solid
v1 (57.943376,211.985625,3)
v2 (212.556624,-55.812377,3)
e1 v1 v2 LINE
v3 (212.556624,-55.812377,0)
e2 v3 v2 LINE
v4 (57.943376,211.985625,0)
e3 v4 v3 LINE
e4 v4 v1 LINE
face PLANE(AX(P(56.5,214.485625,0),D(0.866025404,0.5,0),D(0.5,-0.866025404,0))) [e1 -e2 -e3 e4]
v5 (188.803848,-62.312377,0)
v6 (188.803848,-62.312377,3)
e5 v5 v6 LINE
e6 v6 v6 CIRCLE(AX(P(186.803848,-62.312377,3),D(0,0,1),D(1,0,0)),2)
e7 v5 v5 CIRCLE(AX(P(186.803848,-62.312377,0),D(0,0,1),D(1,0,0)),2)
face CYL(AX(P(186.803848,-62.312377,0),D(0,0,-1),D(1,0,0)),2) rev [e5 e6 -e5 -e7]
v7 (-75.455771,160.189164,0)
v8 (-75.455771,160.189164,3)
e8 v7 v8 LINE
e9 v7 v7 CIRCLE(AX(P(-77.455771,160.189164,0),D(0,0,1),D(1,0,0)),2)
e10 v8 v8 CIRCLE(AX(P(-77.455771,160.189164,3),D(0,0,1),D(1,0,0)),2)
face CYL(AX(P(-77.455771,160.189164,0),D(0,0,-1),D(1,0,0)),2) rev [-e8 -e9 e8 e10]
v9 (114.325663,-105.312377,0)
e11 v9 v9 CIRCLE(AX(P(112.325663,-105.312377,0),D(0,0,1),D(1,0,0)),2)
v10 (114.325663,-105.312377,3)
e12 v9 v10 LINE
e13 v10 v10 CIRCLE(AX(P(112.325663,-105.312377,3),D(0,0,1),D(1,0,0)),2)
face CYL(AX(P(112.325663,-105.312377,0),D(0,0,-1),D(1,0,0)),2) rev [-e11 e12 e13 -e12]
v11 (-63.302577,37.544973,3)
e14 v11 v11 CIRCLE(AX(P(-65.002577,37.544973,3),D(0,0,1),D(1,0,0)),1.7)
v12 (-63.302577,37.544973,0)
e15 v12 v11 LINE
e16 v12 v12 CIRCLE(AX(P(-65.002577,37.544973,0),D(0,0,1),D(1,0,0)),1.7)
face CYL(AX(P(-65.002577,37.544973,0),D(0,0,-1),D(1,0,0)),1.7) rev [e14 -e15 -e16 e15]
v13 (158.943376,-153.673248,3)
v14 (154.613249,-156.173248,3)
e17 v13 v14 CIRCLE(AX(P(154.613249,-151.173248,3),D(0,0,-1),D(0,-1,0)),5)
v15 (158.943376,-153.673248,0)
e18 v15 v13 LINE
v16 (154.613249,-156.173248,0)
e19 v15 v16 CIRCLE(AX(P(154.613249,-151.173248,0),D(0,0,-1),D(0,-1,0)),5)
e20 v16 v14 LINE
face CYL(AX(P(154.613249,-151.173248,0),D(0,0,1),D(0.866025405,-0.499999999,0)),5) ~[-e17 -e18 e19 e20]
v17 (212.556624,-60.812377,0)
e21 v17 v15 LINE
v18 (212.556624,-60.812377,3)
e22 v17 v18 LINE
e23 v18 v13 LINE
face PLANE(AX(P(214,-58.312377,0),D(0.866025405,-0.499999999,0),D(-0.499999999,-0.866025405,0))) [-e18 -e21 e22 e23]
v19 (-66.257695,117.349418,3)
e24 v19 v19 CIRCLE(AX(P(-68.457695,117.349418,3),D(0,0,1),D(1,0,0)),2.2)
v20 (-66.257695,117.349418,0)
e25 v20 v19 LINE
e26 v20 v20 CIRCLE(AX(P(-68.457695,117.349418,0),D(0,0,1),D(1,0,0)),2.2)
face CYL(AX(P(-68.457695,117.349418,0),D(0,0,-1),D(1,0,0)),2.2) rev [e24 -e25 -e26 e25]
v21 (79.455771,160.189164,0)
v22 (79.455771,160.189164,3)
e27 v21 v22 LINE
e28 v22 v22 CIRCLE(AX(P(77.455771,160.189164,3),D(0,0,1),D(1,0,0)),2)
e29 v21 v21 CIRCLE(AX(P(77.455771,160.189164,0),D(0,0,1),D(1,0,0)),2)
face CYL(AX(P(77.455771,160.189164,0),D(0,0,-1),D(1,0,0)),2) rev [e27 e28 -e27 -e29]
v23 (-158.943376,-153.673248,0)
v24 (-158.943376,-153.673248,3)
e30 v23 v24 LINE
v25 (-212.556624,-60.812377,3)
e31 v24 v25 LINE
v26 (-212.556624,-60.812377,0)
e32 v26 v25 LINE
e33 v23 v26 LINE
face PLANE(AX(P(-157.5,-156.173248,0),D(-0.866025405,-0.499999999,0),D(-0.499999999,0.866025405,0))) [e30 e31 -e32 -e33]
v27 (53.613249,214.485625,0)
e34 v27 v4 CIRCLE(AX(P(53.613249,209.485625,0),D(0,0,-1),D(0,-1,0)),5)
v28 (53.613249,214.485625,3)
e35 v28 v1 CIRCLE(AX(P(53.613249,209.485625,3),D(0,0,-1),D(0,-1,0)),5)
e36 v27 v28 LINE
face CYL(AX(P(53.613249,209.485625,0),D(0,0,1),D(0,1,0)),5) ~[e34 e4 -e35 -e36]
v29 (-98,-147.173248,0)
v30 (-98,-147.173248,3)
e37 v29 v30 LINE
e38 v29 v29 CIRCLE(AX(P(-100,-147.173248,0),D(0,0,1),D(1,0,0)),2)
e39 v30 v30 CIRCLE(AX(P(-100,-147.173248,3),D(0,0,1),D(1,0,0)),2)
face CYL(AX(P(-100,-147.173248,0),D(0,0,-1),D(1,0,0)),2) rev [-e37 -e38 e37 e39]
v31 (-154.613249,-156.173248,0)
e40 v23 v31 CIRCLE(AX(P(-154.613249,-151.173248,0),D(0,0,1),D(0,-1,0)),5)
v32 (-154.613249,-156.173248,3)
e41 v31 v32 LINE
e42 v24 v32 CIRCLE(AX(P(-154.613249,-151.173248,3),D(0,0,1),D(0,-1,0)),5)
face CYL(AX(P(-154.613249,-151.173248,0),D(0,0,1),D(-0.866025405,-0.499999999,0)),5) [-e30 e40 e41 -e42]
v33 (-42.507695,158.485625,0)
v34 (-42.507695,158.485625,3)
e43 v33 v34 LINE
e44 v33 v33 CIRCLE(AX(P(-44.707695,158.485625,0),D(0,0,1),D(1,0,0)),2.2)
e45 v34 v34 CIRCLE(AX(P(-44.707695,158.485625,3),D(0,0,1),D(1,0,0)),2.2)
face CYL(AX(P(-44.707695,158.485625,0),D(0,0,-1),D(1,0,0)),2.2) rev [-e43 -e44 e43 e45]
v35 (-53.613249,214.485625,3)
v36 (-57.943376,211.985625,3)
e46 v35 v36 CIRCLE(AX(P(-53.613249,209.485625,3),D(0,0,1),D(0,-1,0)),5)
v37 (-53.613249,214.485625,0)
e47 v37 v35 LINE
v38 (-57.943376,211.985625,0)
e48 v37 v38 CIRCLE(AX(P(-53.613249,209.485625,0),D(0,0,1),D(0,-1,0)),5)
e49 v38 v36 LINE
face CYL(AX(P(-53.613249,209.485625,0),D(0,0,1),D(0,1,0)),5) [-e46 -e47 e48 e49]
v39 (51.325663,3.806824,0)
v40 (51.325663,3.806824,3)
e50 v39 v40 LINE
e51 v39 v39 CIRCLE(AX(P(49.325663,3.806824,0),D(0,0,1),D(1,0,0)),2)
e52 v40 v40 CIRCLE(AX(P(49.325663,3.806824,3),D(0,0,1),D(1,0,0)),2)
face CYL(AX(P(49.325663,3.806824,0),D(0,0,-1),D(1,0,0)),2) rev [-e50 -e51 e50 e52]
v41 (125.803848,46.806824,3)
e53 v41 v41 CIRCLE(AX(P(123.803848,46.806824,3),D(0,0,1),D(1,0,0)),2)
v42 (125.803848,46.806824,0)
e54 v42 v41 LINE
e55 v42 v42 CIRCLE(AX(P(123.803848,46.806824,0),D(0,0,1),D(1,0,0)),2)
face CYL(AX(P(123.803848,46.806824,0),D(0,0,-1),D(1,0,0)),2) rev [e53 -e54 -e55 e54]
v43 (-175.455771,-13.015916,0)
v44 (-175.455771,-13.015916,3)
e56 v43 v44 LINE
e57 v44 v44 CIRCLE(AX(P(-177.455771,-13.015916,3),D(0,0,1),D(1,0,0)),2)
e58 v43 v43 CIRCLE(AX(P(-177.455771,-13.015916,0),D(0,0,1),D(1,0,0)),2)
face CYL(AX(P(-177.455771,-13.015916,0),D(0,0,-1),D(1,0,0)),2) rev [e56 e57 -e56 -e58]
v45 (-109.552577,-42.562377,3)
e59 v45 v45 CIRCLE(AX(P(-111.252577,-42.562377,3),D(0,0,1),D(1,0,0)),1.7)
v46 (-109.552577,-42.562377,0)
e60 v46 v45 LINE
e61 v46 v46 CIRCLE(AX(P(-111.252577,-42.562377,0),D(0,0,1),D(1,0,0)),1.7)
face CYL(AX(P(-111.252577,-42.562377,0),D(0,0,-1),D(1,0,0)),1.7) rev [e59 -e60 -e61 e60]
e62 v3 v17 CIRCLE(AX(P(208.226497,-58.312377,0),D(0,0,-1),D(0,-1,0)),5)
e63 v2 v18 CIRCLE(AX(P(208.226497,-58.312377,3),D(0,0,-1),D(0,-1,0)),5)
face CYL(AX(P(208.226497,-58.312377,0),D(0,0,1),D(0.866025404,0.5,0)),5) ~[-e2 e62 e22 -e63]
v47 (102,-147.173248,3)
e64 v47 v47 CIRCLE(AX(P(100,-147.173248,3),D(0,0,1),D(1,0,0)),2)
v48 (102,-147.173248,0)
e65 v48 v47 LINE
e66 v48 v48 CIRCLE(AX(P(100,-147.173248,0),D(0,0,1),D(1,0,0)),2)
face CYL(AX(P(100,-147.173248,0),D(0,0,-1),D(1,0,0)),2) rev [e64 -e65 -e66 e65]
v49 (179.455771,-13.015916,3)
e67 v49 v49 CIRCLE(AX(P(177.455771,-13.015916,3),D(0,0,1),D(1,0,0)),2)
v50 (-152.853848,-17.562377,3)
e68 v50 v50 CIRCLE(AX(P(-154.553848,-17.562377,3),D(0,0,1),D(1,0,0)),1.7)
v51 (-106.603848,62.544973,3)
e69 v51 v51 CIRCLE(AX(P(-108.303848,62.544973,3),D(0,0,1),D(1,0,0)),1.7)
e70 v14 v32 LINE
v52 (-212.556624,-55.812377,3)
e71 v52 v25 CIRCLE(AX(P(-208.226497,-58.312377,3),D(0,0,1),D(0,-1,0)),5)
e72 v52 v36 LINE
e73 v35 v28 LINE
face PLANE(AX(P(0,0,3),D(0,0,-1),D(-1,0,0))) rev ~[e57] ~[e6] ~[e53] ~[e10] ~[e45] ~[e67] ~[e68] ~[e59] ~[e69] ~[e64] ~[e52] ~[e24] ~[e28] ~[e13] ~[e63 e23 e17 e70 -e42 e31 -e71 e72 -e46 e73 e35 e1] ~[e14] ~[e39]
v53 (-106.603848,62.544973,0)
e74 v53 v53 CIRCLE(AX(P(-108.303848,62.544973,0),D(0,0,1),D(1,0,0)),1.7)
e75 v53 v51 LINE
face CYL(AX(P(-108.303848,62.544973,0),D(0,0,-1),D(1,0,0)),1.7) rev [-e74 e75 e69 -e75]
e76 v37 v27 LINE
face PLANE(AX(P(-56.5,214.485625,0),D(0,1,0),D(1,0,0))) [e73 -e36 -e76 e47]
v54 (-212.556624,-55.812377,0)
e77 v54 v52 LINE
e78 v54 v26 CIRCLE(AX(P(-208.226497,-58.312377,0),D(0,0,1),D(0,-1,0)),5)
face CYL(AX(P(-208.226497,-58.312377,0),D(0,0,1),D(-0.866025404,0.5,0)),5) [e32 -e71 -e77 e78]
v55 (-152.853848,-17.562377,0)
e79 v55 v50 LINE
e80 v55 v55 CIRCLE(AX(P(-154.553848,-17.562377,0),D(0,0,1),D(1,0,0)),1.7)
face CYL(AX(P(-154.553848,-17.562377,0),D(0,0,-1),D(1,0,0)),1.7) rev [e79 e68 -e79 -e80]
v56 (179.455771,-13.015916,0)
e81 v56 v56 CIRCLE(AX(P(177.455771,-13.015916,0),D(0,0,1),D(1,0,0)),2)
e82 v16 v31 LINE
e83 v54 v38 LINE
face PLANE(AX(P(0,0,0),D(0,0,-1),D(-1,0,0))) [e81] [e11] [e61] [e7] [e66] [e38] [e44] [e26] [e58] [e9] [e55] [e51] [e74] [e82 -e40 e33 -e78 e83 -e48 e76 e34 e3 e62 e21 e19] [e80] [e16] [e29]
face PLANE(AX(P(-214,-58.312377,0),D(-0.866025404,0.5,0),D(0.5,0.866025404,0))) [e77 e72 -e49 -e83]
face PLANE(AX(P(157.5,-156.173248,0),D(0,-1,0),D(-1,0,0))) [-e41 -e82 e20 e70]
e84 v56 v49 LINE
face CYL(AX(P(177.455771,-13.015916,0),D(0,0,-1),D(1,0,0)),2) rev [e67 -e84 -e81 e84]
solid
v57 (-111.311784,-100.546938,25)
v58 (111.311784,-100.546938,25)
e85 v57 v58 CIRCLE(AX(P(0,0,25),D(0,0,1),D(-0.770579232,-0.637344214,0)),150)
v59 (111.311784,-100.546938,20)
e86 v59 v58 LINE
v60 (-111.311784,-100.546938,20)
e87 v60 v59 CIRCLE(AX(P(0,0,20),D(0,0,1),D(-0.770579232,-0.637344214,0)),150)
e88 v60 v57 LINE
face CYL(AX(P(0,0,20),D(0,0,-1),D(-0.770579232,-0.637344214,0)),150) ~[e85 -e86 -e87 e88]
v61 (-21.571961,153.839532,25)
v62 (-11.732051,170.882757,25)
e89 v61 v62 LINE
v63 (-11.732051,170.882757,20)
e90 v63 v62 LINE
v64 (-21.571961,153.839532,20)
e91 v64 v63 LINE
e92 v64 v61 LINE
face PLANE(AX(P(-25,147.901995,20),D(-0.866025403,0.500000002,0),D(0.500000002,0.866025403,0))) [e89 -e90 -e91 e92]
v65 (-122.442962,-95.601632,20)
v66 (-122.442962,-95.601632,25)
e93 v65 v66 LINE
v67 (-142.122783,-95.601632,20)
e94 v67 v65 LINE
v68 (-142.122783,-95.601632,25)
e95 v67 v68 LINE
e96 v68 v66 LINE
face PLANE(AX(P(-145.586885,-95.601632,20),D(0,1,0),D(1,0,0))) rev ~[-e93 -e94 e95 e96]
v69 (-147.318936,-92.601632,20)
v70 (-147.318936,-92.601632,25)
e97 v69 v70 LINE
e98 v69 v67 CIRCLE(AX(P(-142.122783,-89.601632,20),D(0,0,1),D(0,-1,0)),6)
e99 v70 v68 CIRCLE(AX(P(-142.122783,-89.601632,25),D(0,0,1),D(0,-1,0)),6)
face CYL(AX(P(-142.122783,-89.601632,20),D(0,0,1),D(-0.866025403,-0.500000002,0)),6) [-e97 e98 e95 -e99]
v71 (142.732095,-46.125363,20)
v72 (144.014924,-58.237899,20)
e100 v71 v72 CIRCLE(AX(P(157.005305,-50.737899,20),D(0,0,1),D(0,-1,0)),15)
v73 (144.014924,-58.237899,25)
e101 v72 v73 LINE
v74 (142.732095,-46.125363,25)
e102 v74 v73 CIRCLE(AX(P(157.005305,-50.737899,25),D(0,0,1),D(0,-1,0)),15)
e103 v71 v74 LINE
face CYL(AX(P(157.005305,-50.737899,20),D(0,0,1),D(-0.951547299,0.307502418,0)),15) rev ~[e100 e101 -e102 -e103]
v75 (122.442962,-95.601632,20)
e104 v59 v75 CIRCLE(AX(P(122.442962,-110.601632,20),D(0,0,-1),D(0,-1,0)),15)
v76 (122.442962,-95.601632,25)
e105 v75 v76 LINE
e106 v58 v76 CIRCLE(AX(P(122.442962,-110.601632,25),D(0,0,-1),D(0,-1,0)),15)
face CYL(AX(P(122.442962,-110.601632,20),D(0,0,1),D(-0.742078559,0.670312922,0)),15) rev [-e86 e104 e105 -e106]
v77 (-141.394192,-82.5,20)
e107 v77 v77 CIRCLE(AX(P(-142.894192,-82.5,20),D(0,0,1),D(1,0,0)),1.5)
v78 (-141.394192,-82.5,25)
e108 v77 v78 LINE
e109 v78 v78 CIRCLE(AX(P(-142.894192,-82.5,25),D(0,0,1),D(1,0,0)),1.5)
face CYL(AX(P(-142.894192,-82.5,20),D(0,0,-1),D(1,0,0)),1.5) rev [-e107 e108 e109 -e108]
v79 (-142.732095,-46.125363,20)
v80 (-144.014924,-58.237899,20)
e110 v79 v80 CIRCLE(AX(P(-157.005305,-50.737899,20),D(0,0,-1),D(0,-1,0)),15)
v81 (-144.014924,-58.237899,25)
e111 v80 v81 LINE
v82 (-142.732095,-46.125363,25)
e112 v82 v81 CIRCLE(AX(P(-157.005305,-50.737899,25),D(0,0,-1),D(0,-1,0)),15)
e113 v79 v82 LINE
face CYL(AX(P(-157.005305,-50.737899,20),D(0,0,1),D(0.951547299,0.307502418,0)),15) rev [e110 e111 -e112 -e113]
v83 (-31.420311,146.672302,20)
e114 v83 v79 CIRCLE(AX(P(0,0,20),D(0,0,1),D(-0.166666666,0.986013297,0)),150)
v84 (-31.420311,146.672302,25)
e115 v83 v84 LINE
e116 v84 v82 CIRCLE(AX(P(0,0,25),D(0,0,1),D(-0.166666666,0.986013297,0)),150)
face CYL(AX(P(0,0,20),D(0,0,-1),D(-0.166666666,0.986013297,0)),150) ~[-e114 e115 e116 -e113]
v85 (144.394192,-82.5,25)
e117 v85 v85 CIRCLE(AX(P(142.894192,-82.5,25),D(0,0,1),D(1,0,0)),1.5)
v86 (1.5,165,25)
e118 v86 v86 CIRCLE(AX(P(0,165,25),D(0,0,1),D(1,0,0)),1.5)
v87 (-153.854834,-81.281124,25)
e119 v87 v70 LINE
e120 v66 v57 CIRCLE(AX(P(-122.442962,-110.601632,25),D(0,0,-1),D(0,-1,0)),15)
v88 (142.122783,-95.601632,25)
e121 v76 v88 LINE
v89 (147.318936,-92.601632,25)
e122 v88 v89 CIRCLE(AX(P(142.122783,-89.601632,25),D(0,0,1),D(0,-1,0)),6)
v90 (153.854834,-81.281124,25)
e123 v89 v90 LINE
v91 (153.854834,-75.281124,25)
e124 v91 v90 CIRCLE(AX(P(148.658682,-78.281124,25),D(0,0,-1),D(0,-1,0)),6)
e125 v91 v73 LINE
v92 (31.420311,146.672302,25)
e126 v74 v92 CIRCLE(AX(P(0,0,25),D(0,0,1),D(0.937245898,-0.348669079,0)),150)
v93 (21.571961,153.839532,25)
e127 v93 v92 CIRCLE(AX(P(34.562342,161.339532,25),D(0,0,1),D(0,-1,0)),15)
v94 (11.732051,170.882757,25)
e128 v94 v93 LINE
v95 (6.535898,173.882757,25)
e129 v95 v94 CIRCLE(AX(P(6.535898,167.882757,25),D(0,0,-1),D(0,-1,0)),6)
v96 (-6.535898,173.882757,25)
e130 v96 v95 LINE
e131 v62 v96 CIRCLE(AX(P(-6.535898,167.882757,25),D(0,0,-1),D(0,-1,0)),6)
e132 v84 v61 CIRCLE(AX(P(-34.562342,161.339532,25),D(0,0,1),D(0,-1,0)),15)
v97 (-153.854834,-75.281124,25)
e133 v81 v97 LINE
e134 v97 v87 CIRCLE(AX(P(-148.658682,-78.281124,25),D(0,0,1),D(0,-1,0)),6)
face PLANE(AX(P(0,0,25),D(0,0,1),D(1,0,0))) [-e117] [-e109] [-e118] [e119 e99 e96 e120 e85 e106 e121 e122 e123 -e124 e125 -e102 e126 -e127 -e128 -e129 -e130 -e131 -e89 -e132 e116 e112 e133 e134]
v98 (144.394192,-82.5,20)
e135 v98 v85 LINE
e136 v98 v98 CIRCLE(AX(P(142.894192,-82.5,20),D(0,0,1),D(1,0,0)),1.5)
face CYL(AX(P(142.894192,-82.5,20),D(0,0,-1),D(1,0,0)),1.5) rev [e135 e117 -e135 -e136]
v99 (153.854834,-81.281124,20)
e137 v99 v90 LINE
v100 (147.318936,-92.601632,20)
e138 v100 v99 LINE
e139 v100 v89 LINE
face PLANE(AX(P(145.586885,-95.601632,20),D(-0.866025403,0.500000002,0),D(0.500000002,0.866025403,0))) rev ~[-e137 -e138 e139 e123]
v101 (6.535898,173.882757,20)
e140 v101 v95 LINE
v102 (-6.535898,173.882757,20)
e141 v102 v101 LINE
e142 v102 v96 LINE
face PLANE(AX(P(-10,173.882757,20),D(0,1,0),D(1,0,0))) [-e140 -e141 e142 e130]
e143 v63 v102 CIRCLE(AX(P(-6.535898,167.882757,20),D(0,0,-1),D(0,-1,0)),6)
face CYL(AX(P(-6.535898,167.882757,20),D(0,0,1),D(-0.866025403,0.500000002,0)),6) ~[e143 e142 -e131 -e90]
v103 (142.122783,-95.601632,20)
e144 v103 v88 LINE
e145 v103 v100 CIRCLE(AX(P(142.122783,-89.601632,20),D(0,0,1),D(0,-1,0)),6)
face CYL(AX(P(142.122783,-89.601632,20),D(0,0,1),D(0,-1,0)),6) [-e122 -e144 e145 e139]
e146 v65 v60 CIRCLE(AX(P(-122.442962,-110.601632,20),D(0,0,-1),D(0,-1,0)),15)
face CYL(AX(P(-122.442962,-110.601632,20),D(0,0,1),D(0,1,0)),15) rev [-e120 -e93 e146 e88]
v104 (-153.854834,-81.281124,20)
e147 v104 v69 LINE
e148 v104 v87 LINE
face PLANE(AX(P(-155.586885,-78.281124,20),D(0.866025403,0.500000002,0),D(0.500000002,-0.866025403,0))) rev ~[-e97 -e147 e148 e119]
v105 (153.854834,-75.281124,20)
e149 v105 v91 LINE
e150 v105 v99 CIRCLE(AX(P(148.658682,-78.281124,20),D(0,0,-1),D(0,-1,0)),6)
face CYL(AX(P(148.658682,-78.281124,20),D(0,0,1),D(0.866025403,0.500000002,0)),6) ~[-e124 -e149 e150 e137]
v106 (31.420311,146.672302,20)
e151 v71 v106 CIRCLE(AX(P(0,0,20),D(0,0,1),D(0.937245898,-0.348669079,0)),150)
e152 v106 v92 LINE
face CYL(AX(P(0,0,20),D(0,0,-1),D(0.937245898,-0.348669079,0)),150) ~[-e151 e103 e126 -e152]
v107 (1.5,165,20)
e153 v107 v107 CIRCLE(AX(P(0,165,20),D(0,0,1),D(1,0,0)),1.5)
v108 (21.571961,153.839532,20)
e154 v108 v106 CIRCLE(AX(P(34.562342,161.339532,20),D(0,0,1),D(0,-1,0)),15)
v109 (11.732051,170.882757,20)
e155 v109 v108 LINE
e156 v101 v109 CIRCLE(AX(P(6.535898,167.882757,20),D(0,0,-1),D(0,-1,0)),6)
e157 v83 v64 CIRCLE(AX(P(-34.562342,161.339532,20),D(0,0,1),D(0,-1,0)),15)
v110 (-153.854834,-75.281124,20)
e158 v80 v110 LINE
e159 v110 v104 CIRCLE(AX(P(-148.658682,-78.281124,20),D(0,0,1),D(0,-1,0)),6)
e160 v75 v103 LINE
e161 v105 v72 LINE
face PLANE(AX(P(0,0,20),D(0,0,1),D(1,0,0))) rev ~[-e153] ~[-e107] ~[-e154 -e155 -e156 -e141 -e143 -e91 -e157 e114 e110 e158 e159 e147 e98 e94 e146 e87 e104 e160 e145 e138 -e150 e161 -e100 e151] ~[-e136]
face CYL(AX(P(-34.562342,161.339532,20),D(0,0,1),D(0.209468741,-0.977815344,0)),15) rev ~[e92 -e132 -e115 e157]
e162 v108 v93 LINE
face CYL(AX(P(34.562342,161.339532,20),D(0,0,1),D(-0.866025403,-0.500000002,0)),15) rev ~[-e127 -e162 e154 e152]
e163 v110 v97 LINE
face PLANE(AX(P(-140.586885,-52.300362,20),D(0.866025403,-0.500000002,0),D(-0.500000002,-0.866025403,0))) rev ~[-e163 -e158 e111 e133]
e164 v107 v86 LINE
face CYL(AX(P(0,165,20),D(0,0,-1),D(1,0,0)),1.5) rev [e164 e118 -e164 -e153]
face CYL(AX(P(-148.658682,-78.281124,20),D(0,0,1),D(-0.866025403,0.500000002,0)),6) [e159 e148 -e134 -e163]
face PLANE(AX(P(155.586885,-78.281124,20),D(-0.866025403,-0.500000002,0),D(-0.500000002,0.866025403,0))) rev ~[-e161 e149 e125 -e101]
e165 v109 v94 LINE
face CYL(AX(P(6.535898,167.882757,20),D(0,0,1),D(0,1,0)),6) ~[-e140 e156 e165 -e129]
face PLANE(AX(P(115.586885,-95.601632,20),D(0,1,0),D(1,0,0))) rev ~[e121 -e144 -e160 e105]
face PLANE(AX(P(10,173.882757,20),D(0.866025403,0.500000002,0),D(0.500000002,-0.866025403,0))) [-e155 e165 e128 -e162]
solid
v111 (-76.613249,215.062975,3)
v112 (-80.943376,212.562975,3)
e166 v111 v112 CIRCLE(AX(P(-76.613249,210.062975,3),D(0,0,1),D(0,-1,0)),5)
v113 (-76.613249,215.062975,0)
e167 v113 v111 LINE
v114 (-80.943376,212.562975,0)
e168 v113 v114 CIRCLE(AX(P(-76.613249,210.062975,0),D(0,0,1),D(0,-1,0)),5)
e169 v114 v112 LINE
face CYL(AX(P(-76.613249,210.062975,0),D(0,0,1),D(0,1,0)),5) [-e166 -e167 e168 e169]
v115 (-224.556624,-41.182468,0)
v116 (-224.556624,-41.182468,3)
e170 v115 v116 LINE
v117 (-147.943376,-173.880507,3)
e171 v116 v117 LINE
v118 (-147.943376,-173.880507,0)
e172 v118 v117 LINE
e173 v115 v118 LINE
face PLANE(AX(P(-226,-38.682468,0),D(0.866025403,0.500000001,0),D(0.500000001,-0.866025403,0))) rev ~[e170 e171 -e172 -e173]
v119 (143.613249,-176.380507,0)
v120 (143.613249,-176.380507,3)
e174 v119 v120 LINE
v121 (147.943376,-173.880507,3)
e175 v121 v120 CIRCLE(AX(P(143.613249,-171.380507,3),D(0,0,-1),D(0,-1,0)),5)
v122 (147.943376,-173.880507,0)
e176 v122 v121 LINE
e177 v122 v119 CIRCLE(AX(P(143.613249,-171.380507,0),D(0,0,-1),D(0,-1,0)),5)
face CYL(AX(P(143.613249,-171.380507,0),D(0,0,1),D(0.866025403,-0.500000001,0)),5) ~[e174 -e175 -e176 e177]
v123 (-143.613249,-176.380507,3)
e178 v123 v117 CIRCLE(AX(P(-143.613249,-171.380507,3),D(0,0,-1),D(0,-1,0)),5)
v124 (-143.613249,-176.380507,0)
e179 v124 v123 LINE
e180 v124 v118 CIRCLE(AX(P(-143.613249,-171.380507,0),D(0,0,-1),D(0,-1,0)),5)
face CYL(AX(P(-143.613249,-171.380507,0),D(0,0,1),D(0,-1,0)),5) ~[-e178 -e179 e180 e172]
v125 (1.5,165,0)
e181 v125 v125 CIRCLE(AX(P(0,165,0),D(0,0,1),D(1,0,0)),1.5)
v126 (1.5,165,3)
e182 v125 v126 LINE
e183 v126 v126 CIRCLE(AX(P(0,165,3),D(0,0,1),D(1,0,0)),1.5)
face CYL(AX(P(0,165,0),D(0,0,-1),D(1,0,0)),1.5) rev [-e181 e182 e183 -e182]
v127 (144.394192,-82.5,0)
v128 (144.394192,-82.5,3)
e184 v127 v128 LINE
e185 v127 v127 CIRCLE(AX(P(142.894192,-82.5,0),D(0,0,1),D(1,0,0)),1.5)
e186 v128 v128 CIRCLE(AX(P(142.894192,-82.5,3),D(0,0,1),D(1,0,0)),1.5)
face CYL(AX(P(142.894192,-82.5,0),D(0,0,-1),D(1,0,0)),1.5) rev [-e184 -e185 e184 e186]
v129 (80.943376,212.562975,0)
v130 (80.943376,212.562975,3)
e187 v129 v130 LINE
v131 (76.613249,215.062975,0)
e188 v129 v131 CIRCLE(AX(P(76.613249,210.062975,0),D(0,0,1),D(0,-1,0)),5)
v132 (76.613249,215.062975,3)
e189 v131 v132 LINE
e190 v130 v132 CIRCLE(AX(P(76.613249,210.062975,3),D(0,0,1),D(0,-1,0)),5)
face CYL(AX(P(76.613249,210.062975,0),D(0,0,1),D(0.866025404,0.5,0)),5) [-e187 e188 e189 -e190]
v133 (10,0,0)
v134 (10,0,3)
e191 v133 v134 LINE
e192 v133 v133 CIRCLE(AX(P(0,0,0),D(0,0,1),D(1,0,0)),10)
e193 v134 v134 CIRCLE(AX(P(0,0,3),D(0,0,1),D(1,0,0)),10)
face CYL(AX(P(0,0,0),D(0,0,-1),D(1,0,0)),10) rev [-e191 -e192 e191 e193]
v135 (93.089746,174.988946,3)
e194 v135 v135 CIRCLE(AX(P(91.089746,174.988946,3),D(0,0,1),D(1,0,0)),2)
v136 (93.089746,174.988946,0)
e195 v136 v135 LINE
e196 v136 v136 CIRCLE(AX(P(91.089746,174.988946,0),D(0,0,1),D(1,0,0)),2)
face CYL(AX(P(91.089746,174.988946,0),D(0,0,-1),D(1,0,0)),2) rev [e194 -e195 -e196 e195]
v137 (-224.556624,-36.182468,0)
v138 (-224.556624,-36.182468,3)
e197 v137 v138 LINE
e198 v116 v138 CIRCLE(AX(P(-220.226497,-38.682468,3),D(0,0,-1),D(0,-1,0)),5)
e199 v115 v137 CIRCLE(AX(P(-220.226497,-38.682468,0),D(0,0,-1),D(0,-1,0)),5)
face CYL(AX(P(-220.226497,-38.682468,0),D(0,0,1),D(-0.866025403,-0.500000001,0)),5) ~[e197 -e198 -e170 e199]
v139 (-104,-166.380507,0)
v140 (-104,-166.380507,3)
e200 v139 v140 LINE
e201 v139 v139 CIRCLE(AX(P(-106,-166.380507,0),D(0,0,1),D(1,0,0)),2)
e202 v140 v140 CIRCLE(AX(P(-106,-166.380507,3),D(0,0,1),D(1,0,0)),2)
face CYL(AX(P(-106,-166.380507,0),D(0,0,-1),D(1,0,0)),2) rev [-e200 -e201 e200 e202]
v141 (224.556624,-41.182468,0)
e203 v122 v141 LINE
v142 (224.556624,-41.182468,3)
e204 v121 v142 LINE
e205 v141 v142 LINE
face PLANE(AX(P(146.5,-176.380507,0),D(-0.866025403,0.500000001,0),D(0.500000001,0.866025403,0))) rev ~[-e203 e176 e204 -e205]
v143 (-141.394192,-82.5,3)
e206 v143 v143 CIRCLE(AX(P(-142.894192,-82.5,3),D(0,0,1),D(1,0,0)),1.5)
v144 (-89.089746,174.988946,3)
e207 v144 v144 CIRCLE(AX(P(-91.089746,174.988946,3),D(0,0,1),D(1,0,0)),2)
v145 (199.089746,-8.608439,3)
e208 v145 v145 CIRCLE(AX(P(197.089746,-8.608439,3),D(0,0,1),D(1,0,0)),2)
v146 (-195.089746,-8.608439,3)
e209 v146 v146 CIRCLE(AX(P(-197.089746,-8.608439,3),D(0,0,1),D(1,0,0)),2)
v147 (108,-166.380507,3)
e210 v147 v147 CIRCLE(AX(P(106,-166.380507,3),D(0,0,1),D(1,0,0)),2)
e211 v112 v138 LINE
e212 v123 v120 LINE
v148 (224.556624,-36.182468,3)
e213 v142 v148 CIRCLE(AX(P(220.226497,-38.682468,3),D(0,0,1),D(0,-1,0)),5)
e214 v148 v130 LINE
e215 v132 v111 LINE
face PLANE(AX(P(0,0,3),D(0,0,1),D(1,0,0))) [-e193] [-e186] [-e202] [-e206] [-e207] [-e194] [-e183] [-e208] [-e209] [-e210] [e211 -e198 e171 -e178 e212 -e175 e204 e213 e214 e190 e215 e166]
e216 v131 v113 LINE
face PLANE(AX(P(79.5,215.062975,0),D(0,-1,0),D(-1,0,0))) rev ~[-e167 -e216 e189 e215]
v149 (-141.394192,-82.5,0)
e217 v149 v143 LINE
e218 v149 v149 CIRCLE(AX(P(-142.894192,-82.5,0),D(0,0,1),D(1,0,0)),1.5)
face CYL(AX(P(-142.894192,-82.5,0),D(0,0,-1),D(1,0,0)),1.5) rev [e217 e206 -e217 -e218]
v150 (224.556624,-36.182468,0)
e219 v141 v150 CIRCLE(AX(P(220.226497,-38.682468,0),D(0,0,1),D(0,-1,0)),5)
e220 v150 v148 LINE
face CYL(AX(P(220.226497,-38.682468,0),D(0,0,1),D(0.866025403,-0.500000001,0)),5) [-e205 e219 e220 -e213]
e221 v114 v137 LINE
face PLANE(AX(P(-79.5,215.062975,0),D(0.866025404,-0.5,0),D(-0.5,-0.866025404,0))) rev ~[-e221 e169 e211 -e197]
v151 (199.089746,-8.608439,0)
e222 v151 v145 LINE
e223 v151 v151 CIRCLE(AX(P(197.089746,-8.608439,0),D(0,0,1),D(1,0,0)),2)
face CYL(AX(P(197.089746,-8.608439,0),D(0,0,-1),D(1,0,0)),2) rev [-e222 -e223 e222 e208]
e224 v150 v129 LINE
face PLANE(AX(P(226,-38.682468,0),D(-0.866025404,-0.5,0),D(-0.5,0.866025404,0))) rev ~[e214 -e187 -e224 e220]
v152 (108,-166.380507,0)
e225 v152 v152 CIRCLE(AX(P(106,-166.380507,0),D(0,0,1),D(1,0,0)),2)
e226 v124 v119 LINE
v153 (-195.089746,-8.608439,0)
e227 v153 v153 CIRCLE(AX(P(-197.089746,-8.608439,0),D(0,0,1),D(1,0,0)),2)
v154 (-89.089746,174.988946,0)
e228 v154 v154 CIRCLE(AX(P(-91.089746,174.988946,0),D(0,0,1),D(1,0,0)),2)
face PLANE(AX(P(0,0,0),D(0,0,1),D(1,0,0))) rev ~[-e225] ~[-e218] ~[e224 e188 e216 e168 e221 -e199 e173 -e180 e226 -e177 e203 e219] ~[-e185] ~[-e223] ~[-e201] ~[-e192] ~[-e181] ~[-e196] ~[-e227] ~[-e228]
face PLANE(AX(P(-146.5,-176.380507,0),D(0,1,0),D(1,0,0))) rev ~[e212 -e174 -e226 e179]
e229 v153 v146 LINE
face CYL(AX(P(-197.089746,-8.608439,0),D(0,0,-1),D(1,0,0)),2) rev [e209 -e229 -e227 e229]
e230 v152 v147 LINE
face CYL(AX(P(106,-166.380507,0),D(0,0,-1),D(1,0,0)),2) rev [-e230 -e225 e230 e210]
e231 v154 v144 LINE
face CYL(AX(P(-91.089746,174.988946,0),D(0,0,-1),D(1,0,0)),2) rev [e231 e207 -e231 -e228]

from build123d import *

# Parameters (mm, degrees)
SKETCH_R      = 1.5
PAD_DEPTH     = 5
FILLET_R      = 15
FILLET001_R   = 6
SKETCH001_R   = 10
SKETCH001_R_2 = 1.5
SKETCH001_R_3 = 2
PAD001_DEPTH  = 3
FILLET002_R   = 5
SKETCH002_R   = 2
SKETCH002_R_2 = 1.7
SKETCH002_R_3 = 2.2
PAD002_DEPTH  = 3
FILLET003_R   = 5


with BuildPart() as build_plate:
    # Sketch → Pad (new body)
    with BuildSketch(Plane.XY.offset(20)):
        with BuildLine():
            ThreePointArc((-25, 147.901995), (-129.903811, 75), (-140.586885, -52.300362))
            Line((-140.586885, -52.300362), (-155.586885, -78.281124))
            Line((-155.586885, -78.281124), (-145.586885, -95.601632))
            Line((-145.586885, -95.601632), (-115.586885, -95.601632))
            ThreePointArc((-115.586885, -95.601632), (0, -150), (115.586885, -95.601632))
            Line((115.586885, -95.601632), (145.586885, -95.601632))
            Line((145.586885, -95.601632), (155.586885, -78.281124))
            Line((155.586885, -78.281124), (140.586885, -52.300362))
            ThreePointArc((140.586885, -52.300362), (129.903811, 75), (25, 147.901995))
            Line((10, 173.882757), (25, 147.901995))
            Line((-10, 173.882757), (10, 173.882757))
            Line((-25, 147.901995), (-10, 173.882757))
        make_face()
        with Locations((-142.894192, -82.5)):
            Circle(SKETCH_R, mode=Mode.SUBTRACT)
        with Locations((142.894192, -82.5)):
            Circle(SKETCH_R, mode=Mode.SUBTRACT)
        with Locations((0, 165)):
            Circle(SKETCH_R, mode=Mode.SUBTRACT)
    extrude(amount=PAD_DEPTH)

    # Fillet
    fillet_edges = [build_plate.edges().sort_by_distance(p)[0] for p in [
        (-25, 147.901995, 22.5),
        (-140.586885, -52.300362, 22.5),
        (-115.586885, -95.601632, 22.5),
        (115.586885, -95.601632, 22.5),
        (140.586885, -52.300362, 22.5),
        (25, 147.901995, 22.5),
    ]]
    fillet(fillet_edges, radius=FILLET_R)

    # Fillet001
    fillet001_edges = [build_plate.edges().sort_by_distance(p)[0] for p in [
        (-10, 173.882757, 22.5),
        (-155.586885, -78.281124, 22.5),
        (10, 173.882757, 22.5),
        (-145.586885, -95.601632, 22.5),
        (155.586885, -78.281124, 22.5),
        (145.586885, -95.601632, 22.5),
    ]]
    fillet(fillet001_edges, radius=FILLET001_R)


with BuildPart() as cover_plate:
    # Sketch001 → Pad001 (new body)
    with BuildSketch(Plane.XY):
        Polygon((146.5, -176.380507), (226, -38.682468), (79.5, 215.062975), (-79.5, 215.062975), (-226, -38.682468), (-146.5, -176.380507), align=None)
        Circle(SKETCH001_R, mode=Mode.SUBTRACT)
        with Locations((-142.894192, -82.5)):
            Circle(SKETCH001_R_2, mode=Mode.SUBTRACT)
        with Locations((142.894192, -82.5)):
            Circle(SKETCH001_R_2, mode=Mode.SUBTRACT)
        with Locations((0, 165)):
            Circle(SKETCH001_R_2, mode=Mode.SUBTRACT)
        with Locations((-197.089746, -8.608439)):
            Circle(SKETCH001_R_3, mode=Mode.SUBTRACT)
        with Locations((-91.089746, 174.988946)):
            Circle(SKETCH001_R_3, mode=Mode.SUBTRACT)
        with Locations((91.089746, 174.988946)):
            Circle(SKETCH001_R_3, mode=Mode.SUBTRACT)
        with Locations((197.089746, -8.608439)):
            Circle(SKETCH001_R_3, mode=Mode.SUBTRACT)
        with Locations((-106, -166.380507)):
            Circle(SKETCH001_R_3, mode=Mode.SUBTRACT)
        with Locations((106, -166.380507)):
            Circle(SKETCH001_R_3, mode=Mode.SUBTRACT)
    extrude(amount=PAD001_DEPTH)

    # Fillet002
    fillet002_edges = [cover_plate.edges().sort_by_distance(p)[0] for p in [
        (-226, -38.682468, 1.5),
        (-146.5, -176.380507, 1.5),
        (146.5, -176.380507, 1.5),
        (226, -38.682468, 1.5),
        (79.5, 215.062975, 1.5),
        (-79.5, 215.062975, 1.5),
    ]]
    fillet(fillet002_edges, radius=FILLET002_R)


with BuildPart() as electronics_plate:
    # Sketch002 → Pad002 (new body)
    with BuildSketch(Plane.XY):
        Polygon((-56.5, 214.485625), (56.5, 214.485625), (214, -58.312377), (157.5, -156.173248), (-157.5, -156.173248), (-214, -58.312377), align=None)
        with Locations((-100, -147.173248)):
            Circle(SKETCH002_R, mode=Mode.SUBTRACT)
        with Locations((100, -147.173248)):
            Circle(SKETCH002_R, mode=Mode.SUBTRACT)
        with Locations((-177.455771, -13.015916)):
            Circle(SKETCH002_R, mode=Mode.SUBTRACT)
        with Locations((-77.455771, 160.189164)):
            Circle(SKETCH002_R, mode=Mode.SUBTRACT)
        with Locations((77.455771, 160.189164)):
            Circle(SKETCH002_R, mode=Mode.SUBTRACT)
        with Locations((177.455771, -13.015916)):
            Circle(SKETCH002_R, mode=Mode.SUBTRACT)
        with Locations((112.325663, -105.312377)):
            Circle(SKETCH002_R, mode=Mode.SUBTRACT)
        with Locations((186.803848, -62.312377)):
            Circle(SKETCH002_R, mode=Mode.SUBTRACT)
        with Locations((-108.303848, 62.544973)):
            Circle(SKETCH002_R_2, mode=Mode.SUBTRACT)
        with Locations((-68.457695, 117.349418)):
            Circle(SKETCH002_R_3, mode=Mode.SUBTRACT)
        with Locations((-44.707695, 158.485625)):
            Circle(SKETCH002_R_3, mode=Mode.SUBTRACT)
        with Locations((49.325663, 3.806824)):
            Circle(SKETCH002_R, mode=Mode.SUBTRACT)
        with Locations((123.803848, 46.806824)):
            Circle(SKETCH002_R, mode=Mode.SUBTRACT)
        with Locations((-154.553848, -17.562377)):
            Circle(SKETCH002_R_2, mode=Mode.SUBTRACT)
        with Locations((-111.252577, -42.562377)):
            Circle(SKETCH002_R_2, mode=Mode.SUBTRACT)
        with Locations((-65.002577, 37.544973)):
            Circle(SKETCH002_R_2, mode=Mode.SUBTRACT)
    extrude(amount=PAD002_DEPTH)

    # Fillet003
    fillet003_edges = [electronics_plate.edges().sort_by_distance(p)[0] for p in [
        (-214, -58.312377, 1.5),
        (-56.5, 214.485625, 1.5),
        (56.5, 214.485625, 1.5),
        (214, -58.312377, 1.5),
        (157.5, -156.173248, 1.5),
        (-157.5, -156.173248, 1.5),
    ]]
    fillet(fillet003_edges, radius=FILLET003_R)


solid = Compound([build_plate.part, cover_plate.part, electronics_plate.part])
